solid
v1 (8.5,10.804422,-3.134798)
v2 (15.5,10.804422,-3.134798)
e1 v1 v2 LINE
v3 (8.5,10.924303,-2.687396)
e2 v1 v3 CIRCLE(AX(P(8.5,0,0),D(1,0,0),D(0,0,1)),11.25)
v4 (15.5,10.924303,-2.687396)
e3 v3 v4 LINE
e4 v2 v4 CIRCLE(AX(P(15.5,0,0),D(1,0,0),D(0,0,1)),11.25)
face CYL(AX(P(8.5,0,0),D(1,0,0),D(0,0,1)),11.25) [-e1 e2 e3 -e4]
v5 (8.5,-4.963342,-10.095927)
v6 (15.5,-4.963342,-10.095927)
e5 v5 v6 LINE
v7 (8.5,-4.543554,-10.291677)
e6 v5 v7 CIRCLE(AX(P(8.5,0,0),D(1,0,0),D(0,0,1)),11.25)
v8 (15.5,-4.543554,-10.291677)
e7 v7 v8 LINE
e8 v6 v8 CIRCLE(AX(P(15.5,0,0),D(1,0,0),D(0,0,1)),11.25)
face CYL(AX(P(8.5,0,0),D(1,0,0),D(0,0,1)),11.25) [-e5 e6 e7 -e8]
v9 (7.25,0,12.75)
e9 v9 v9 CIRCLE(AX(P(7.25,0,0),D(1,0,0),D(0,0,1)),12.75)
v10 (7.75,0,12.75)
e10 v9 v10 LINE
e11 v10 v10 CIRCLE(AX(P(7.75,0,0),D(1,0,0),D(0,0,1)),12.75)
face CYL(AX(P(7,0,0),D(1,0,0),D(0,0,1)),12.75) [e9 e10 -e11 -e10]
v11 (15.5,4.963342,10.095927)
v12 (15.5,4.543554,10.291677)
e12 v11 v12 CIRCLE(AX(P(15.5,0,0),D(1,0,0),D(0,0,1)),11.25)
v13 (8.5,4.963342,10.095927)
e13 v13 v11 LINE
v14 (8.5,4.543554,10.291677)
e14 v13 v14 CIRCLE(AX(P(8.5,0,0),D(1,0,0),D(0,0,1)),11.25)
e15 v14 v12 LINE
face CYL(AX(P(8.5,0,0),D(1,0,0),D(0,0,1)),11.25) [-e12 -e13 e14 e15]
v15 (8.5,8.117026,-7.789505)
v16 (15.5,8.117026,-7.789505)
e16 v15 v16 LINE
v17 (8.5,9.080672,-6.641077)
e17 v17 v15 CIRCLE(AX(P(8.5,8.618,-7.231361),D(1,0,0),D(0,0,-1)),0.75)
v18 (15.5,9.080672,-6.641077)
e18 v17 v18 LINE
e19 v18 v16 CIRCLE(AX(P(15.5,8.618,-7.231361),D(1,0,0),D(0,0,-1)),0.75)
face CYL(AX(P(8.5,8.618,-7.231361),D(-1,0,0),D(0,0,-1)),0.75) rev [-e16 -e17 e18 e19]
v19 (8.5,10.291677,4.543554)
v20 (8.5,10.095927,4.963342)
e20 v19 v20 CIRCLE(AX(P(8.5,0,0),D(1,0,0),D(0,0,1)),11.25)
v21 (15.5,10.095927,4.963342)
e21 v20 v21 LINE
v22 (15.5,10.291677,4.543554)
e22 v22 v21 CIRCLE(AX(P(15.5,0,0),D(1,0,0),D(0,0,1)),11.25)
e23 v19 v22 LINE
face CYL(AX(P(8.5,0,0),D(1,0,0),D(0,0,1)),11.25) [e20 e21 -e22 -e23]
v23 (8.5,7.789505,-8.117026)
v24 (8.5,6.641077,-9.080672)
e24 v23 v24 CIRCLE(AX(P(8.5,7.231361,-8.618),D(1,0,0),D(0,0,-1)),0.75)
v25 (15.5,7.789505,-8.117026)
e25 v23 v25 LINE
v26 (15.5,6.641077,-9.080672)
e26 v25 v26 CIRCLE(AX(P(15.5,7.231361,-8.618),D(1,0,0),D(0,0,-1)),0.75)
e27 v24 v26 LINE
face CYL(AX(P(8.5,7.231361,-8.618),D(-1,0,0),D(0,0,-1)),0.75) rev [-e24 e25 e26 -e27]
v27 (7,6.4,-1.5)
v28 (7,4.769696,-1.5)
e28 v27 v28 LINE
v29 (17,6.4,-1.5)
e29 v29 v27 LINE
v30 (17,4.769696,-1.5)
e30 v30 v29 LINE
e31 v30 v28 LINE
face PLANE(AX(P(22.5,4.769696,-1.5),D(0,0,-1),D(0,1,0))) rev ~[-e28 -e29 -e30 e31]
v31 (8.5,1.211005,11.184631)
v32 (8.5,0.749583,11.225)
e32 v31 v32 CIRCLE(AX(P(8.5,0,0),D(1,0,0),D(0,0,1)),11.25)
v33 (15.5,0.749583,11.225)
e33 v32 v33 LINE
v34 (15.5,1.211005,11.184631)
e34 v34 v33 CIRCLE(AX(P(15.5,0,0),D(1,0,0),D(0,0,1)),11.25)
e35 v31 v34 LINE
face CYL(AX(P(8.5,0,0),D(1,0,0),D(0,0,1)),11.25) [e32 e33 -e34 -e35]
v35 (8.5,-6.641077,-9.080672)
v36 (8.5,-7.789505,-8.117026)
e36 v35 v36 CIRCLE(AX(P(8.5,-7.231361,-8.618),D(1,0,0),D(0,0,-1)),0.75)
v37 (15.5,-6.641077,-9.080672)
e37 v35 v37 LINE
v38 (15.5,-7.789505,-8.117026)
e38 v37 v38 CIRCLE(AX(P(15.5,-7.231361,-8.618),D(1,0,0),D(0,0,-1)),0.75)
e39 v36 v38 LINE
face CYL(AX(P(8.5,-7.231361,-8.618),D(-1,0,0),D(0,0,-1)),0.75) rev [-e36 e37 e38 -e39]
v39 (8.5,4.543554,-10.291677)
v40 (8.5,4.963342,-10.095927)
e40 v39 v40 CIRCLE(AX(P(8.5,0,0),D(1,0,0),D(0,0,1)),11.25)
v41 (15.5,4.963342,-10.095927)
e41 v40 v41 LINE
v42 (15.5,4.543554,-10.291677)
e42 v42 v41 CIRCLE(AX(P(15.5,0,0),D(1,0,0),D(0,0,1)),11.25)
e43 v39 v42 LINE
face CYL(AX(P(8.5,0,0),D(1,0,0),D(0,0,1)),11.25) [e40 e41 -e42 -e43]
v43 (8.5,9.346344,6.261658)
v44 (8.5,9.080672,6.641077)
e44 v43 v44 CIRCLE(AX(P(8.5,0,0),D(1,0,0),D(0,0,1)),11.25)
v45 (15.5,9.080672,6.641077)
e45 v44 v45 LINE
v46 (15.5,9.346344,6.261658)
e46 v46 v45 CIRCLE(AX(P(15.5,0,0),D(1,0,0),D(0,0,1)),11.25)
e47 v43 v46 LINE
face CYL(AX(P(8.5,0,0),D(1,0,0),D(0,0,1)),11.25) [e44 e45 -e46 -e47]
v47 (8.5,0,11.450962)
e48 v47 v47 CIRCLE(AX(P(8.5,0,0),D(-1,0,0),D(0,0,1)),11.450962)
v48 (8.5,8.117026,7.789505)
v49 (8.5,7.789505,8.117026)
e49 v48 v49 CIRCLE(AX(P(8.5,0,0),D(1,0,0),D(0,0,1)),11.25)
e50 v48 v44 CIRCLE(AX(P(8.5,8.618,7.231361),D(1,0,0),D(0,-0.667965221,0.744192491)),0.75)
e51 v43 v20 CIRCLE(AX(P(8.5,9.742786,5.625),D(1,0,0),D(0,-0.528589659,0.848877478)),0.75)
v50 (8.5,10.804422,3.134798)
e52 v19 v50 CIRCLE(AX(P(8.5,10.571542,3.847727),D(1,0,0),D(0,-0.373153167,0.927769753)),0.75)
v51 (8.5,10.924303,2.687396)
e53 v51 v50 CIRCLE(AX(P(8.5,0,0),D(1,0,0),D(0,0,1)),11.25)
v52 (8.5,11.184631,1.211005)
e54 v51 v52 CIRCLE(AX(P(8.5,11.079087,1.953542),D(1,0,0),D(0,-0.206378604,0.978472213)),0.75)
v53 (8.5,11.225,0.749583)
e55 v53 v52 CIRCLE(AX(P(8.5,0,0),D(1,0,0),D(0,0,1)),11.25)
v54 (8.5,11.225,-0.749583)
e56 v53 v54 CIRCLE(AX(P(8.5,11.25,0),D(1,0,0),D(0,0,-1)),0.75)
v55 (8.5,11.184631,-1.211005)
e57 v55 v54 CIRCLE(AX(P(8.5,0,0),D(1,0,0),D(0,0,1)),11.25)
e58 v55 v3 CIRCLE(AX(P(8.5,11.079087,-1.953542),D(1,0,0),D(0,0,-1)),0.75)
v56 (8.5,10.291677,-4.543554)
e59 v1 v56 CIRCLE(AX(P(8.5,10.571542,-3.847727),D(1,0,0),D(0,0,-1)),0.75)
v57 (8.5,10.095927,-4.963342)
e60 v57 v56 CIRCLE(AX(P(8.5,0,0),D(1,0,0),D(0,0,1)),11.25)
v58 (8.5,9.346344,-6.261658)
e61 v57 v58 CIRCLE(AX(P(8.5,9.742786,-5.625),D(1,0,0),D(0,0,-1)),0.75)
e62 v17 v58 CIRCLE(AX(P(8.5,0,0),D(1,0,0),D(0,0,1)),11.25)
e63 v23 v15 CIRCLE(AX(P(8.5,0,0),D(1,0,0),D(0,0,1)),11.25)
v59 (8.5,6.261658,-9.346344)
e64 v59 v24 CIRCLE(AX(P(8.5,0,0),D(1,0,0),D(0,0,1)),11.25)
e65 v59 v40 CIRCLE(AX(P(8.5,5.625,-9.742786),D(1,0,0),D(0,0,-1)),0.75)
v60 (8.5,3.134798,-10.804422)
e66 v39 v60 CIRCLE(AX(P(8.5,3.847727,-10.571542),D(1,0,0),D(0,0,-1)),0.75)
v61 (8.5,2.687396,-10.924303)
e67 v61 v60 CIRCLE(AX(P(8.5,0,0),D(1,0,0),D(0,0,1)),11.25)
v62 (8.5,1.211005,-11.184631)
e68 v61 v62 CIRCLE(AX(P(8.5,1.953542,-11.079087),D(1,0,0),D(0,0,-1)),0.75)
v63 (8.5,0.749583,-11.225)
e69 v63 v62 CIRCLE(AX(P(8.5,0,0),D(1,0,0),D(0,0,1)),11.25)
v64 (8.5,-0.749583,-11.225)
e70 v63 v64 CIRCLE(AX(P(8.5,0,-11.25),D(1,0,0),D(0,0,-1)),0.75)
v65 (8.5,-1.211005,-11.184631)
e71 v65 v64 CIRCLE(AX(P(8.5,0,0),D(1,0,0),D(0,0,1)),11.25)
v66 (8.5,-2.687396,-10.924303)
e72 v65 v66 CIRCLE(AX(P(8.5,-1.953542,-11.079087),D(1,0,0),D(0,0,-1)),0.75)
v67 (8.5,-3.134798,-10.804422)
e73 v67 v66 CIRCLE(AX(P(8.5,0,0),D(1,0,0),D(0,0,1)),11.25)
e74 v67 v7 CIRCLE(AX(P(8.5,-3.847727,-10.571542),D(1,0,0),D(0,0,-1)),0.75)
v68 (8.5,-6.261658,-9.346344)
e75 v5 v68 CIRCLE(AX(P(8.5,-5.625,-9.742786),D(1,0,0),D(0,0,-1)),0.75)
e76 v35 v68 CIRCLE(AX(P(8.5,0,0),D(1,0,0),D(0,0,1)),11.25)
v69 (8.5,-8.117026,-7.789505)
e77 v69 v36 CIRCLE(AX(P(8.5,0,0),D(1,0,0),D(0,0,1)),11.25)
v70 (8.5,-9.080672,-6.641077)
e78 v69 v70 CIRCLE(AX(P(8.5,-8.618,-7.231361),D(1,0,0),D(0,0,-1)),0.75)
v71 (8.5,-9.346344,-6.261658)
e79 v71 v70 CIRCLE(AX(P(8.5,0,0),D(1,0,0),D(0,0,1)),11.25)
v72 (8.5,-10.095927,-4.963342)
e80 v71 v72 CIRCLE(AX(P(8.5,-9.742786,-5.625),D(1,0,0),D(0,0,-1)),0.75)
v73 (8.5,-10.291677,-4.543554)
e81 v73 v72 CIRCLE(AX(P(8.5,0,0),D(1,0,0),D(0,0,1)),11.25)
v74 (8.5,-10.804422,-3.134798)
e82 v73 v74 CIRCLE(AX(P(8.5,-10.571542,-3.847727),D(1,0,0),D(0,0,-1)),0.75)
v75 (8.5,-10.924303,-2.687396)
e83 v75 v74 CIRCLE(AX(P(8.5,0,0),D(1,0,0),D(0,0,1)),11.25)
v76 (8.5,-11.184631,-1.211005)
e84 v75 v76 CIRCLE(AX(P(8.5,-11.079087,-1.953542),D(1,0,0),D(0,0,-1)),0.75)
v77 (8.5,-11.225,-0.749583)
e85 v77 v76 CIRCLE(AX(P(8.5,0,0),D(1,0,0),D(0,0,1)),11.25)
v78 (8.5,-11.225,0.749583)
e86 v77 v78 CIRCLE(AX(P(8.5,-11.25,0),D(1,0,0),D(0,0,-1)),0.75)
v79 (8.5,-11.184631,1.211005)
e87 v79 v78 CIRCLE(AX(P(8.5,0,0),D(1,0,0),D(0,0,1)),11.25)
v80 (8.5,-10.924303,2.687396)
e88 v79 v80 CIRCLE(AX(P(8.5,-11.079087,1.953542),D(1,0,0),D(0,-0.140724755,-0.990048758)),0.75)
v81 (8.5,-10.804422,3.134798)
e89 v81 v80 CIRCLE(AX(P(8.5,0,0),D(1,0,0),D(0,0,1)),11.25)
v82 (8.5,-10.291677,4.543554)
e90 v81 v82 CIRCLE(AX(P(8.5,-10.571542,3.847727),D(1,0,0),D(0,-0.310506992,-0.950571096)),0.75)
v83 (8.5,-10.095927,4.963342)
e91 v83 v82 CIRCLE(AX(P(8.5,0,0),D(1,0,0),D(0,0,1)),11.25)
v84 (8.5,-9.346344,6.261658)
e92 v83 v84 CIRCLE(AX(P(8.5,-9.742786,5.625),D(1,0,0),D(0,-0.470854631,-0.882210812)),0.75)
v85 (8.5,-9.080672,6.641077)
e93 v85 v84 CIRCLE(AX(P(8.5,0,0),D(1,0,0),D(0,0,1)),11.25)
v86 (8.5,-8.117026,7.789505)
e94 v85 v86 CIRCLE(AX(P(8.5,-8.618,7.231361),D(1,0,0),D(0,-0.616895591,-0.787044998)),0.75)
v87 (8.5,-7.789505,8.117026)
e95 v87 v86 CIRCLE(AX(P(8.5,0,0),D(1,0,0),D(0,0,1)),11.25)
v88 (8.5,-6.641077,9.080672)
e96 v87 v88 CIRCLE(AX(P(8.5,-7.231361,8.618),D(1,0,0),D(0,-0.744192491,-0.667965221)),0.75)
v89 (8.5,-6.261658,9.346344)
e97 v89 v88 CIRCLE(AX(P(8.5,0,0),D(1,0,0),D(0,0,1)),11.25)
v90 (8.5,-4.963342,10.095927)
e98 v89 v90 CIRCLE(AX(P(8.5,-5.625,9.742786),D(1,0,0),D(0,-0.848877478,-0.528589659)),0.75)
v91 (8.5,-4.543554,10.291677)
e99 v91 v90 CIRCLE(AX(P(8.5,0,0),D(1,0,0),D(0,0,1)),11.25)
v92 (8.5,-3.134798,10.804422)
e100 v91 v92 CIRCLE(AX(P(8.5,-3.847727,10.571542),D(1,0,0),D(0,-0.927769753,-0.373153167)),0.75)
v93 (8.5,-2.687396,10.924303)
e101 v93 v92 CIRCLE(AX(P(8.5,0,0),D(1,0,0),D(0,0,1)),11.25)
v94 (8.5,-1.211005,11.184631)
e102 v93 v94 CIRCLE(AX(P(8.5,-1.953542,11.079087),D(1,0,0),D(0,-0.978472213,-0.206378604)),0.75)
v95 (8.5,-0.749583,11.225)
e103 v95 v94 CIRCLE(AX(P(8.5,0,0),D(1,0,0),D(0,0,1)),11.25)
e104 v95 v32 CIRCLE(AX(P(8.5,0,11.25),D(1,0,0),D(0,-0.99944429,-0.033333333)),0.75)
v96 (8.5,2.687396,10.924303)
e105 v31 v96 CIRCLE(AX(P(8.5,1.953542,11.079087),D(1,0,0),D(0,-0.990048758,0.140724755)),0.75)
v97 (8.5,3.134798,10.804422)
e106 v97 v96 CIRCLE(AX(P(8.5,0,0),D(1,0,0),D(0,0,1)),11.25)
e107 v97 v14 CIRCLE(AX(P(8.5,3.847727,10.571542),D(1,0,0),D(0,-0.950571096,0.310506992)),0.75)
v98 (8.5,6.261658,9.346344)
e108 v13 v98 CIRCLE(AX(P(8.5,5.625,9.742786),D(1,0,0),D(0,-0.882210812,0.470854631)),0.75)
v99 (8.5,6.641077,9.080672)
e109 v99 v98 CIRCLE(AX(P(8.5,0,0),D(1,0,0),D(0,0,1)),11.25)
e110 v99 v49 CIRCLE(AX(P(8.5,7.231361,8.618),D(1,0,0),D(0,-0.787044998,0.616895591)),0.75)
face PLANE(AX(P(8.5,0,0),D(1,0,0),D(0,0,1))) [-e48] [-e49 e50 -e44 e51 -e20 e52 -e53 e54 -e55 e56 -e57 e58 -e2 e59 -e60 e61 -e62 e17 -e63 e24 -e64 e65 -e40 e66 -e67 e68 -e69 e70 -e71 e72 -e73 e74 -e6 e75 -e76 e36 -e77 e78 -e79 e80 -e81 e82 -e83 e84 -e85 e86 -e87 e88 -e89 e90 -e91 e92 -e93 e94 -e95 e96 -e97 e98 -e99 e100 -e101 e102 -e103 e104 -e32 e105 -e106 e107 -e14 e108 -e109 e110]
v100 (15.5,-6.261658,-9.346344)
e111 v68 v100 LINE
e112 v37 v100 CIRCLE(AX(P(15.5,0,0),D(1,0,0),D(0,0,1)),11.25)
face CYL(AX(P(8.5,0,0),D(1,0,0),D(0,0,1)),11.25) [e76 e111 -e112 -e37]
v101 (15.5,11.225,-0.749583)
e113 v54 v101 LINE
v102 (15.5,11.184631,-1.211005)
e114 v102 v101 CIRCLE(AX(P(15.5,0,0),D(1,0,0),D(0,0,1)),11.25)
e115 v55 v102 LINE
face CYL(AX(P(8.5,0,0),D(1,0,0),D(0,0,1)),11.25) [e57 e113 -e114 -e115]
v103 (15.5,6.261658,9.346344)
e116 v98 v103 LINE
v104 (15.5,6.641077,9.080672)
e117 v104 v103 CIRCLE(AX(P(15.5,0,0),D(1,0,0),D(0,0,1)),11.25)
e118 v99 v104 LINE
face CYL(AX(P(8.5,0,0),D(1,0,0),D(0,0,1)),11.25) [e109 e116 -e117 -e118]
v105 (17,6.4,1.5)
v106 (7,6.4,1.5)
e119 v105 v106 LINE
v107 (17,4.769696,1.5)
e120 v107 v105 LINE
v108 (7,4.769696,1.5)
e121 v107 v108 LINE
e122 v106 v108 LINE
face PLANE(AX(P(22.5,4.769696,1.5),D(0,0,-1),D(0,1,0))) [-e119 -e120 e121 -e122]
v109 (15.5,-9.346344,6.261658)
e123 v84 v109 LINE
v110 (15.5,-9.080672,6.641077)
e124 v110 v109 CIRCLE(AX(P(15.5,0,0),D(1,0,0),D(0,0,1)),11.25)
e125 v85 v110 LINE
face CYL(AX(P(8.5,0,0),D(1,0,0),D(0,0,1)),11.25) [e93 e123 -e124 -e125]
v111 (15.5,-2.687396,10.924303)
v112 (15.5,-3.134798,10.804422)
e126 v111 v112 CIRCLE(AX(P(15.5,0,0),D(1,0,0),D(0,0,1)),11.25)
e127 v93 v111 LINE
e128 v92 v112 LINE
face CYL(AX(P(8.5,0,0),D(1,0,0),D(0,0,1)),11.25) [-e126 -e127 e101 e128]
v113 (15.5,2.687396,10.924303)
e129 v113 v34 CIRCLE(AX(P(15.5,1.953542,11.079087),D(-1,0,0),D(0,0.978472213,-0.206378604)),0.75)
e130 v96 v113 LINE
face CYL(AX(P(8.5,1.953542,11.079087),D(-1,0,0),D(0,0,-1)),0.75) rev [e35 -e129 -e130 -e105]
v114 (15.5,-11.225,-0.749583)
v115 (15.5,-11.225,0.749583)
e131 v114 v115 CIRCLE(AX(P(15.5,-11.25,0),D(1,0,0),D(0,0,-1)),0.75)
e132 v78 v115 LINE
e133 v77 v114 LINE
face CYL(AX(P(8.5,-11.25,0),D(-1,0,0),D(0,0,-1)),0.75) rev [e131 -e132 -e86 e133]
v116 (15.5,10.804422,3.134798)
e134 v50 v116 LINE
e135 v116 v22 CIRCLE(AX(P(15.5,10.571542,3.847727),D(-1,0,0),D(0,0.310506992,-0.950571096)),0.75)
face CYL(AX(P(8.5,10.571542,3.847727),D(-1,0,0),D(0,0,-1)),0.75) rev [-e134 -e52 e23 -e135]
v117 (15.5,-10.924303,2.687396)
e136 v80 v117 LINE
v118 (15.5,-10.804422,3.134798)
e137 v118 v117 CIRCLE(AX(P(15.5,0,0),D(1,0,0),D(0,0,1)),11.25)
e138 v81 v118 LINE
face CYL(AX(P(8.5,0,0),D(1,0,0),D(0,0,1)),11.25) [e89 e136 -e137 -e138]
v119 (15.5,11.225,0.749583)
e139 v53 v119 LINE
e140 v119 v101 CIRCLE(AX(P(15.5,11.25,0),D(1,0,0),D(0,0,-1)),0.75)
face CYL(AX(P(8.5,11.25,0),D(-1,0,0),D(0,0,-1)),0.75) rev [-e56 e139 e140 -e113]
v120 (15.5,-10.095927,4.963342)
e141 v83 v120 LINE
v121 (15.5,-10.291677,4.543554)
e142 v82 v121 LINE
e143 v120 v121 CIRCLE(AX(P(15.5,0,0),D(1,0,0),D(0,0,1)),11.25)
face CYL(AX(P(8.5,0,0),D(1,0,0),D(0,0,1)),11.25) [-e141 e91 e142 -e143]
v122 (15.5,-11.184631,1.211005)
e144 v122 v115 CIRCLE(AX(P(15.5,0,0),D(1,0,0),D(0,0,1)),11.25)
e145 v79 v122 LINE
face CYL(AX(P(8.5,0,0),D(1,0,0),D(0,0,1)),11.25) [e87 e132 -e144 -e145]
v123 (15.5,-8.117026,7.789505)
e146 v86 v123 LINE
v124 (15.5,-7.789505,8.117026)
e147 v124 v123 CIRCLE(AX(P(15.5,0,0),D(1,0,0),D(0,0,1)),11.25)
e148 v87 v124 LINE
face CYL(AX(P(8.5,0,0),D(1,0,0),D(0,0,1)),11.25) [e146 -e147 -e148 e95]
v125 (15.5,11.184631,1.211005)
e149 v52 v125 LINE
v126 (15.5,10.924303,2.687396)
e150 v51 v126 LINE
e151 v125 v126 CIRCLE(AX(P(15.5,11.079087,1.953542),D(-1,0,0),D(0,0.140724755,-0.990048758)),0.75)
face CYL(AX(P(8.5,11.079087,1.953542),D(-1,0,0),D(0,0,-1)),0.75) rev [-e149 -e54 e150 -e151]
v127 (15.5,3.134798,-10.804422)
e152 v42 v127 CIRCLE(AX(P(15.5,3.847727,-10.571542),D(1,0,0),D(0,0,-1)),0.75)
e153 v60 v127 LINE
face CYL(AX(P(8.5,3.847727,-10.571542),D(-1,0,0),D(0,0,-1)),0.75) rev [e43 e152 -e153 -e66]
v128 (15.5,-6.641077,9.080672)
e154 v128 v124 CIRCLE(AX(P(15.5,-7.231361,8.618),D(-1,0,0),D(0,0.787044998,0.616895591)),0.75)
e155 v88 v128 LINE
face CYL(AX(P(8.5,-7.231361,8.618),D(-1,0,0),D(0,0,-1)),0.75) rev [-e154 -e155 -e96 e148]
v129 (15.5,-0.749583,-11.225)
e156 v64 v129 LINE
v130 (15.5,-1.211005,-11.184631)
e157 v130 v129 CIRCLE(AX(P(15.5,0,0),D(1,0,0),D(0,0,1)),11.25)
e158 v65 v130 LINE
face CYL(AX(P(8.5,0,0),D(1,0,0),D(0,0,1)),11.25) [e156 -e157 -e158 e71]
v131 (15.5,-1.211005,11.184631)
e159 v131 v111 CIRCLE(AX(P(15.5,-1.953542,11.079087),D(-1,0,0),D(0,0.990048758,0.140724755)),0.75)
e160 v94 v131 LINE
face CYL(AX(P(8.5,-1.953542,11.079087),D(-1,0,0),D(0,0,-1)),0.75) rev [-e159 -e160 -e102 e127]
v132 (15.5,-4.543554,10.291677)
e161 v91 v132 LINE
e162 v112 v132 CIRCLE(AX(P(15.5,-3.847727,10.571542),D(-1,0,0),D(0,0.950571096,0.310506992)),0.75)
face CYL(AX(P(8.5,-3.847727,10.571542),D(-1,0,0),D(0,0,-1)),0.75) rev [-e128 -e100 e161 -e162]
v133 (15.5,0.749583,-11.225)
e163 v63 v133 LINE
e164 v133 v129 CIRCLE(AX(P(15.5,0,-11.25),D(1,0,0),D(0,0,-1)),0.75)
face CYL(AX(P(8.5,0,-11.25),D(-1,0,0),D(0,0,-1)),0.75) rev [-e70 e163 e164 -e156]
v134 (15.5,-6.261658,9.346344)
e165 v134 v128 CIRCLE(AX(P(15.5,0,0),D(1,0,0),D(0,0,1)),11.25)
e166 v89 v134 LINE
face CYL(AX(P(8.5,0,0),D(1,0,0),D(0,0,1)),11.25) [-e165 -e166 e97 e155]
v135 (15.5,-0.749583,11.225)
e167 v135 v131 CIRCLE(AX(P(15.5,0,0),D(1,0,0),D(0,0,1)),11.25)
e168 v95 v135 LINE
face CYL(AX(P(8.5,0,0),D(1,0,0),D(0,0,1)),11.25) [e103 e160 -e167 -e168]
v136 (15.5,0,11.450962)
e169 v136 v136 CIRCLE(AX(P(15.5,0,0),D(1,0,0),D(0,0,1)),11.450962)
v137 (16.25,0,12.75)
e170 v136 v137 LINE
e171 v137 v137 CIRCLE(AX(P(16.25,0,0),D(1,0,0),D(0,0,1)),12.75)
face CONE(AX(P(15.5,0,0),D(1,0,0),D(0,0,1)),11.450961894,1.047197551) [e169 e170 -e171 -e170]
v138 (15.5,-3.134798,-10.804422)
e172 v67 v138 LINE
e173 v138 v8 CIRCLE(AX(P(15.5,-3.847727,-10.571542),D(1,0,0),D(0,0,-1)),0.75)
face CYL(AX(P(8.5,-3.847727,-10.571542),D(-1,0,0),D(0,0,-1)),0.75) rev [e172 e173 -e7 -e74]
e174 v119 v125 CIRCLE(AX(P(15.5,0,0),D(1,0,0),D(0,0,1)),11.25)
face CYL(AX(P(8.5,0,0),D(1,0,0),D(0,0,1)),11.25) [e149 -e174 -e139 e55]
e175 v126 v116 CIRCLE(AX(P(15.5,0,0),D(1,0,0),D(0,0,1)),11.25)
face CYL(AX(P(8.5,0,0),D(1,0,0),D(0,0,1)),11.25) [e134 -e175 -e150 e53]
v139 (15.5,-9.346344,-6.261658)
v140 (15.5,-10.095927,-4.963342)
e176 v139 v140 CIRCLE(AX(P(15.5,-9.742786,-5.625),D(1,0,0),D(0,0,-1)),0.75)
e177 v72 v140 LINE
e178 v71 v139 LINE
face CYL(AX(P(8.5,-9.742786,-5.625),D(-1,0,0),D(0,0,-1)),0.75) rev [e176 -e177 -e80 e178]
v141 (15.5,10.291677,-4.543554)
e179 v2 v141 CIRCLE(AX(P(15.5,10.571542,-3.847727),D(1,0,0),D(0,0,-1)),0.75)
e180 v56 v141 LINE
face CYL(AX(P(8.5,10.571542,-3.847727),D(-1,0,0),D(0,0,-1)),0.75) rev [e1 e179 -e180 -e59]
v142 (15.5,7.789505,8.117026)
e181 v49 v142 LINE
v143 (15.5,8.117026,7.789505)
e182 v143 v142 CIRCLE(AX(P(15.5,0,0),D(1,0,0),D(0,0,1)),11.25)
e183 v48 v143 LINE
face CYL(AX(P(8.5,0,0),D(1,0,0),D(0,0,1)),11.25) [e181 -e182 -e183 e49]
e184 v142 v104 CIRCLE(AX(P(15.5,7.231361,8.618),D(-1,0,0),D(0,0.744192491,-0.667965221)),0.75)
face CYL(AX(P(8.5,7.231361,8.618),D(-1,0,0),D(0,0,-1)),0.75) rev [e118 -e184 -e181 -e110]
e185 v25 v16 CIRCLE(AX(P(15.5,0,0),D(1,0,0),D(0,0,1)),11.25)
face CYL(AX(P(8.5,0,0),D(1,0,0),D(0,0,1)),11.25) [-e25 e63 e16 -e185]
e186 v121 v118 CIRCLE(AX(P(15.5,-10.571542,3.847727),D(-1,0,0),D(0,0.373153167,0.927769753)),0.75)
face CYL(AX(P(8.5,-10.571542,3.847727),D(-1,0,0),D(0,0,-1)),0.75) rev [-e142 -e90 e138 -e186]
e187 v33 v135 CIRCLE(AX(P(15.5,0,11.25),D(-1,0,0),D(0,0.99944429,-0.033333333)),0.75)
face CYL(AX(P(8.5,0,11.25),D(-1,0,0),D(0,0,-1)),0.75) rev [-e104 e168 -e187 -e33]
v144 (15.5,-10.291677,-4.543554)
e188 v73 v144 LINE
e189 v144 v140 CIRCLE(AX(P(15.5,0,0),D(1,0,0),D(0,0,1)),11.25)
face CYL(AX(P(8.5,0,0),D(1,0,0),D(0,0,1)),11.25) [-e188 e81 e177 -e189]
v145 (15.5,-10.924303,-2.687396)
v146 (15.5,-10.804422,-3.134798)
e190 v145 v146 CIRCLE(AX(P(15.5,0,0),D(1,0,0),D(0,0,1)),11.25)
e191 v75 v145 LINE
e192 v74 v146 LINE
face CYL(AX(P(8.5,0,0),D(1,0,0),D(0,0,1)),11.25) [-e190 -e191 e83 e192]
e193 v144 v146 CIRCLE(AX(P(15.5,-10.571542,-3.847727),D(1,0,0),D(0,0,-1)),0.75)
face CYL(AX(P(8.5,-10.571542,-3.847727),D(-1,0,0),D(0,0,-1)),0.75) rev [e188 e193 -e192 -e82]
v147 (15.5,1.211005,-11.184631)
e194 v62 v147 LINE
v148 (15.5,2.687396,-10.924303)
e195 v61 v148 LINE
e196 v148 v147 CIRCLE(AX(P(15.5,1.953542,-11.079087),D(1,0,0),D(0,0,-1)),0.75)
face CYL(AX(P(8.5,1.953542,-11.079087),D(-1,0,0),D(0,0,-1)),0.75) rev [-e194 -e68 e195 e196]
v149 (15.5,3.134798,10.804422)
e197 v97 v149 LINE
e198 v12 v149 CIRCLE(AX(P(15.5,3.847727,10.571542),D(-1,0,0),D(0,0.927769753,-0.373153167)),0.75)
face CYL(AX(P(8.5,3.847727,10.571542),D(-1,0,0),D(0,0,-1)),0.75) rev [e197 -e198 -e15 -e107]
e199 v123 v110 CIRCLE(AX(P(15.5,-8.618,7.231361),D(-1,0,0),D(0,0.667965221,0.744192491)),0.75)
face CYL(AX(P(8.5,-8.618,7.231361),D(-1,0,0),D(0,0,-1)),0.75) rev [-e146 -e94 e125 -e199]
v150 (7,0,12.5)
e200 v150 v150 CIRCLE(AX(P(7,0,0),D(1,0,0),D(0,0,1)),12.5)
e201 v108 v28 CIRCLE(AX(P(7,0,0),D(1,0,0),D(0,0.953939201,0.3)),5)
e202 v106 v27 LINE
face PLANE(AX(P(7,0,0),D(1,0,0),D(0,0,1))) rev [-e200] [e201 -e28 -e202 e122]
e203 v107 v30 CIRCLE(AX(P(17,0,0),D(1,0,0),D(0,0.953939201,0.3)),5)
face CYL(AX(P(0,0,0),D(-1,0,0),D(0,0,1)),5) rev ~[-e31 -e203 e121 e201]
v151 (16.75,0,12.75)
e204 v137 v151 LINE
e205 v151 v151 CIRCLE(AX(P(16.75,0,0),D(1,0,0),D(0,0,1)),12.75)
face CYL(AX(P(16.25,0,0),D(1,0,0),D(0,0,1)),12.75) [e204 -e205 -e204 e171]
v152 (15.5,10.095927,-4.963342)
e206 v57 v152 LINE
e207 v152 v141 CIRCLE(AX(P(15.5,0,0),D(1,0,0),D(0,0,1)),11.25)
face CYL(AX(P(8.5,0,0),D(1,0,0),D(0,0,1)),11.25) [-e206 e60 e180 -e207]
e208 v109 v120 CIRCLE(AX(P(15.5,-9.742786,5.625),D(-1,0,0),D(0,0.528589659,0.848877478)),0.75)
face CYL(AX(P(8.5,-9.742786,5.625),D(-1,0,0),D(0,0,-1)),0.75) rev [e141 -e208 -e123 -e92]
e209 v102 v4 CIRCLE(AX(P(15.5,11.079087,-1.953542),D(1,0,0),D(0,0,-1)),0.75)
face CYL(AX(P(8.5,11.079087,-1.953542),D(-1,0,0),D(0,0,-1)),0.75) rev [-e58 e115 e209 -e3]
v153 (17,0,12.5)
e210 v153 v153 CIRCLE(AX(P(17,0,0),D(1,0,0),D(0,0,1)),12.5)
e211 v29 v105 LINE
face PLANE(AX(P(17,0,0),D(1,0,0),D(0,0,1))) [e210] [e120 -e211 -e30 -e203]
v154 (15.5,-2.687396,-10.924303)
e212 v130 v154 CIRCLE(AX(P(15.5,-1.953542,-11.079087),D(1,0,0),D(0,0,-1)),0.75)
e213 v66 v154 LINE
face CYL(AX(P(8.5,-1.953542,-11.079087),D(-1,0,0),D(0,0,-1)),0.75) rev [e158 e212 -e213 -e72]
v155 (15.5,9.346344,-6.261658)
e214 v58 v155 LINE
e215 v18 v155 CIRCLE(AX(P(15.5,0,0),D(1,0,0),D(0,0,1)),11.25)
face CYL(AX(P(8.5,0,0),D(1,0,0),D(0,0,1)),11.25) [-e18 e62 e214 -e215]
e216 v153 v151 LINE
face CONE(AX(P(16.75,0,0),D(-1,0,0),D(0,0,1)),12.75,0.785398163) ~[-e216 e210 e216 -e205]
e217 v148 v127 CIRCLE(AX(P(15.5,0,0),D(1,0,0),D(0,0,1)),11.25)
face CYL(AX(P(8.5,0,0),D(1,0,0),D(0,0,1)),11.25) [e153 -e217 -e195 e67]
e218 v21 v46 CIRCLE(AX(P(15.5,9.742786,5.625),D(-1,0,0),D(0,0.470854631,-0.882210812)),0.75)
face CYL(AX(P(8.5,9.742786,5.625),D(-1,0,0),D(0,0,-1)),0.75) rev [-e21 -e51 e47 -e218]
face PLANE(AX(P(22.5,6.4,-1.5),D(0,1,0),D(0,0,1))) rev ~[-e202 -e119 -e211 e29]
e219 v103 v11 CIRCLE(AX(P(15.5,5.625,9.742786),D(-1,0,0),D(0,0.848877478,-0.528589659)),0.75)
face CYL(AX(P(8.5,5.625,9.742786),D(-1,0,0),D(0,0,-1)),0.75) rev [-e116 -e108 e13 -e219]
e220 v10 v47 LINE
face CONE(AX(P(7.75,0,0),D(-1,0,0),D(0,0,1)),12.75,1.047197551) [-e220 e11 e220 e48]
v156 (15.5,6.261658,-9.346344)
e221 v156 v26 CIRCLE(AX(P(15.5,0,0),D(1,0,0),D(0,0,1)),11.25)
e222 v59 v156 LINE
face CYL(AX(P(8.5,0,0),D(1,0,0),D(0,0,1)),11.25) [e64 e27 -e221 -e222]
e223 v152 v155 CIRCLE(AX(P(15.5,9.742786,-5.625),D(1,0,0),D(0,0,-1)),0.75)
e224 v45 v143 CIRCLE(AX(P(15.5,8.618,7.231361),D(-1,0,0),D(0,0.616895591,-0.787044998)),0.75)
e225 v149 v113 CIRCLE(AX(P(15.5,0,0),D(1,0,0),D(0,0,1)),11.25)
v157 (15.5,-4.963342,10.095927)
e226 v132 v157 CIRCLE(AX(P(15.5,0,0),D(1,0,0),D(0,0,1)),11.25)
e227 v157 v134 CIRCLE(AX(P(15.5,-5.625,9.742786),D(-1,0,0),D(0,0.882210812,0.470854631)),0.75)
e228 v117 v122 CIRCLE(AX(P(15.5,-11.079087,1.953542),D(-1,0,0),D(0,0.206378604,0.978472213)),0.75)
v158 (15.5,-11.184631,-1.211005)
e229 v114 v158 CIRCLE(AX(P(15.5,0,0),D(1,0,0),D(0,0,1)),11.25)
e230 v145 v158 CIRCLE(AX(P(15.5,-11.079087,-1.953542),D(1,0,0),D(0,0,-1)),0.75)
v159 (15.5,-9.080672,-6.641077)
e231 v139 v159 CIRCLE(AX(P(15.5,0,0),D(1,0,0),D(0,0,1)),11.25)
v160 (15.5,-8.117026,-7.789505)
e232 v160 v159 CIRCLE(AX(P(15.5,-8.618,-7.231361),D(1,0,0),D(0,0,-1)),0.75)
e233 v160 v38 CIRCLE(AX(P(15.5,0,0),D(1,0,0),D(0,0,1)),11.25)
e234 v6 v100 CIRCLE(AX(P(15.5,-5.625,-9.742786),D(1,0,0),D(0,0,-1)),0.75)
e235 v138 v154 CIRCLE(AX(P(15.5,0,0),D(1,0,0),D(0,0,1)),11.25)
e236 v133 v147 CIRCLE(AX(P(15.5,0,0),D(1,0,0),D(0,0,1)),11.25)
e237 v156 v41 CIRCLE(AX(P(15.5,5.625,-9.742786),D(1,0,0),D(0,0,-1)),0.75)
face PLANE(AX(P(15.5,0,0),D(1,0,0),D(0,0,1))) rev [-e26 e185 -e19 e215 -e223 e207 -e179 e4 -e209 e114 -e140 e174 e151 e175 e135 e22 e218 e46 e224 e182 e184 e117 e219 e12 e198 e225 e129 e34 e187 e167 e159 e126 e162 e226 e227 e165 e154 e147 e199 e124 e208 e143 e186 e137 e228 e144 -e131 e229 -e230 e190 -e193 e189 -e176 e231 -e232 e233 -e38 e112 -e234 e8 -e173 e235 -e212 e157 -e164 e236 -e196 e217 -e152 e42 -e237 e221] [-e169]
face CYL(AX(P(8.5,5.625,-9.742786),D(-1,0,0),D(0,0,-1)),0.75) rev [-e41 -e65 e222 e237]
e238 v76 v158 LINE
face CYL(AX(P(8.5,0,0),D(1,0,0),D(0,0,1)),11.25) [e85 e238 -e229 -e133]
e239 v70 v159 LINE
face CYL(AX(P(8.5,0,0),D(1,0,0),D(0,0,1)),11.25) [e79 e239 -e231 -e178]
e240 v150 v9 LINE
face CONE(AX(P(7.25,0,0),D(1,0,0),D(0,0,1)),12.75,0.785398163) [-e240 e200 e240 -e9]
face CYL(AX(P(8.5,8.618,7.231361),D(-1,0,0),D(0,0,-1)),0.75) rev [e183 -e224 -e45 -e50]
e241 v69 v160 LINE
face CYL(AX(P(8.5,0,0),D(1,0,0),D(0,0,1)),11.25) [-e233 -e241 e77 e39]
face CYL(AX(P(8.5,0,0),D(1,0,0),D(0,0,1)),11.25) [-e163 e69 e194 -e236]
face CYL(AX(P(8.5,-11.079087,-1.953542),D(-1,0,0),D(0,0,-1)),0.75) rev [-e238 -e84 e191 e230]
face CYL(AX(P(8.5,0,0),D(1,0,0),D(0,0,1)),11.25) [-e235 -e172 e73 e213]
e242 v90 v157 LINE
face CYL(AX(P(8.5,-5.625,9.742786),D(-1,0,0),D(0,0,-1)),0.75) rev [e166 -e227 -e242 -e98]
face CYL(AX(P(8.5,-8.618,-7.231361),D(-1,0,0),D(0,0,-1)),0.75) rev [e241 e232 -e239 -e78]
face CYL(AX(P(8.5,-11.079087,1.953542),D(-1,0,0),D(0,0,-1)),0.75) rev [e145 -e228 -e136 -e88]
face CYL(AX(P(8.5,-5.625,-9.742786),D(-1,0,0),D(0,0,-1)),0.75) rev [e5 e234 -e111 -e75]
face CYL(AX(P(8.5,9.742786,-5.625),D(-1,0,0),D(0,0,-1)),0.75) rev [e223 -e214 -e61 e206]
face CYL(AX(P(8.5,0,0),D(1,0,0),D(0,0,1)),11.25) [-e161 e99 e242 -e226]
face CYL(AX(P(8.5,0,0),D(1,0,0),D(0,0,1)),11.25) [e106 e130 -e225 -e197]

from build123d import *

# Parameters (mm, degrees)
SCHIZZO5_R                    = 0.75
TAGLIO_ESTRUSIONE1_DEPTH      = 7
TAGLIO_ESTRUSIONE2_REACH      = 26.782
TAGLIO_ESTRUSIONE2_END_RADIUS = 8
SCHIZZO6_R                    = 1.5
TAGLIO_ESTRUSIONE3_REACH      = 26.782
TAGLIO_ESTRUSIONE3_END_RADIUS = 8
SCHIZZO7_R                    = 1.5
SMUSSO1_SIZE                  = 0.5
SMUSSO2_SIZE                  = 0.25
SCHIZZO8_R                    = 5
TAGLIO_ESTRUSIONE4_DEPTH      = 25.781545622
TAGLIO_ESTRUSIONE5_START      = -7
SCHIZZO9_R                    = 8
TAGLIO_ESTRUSIONE5_DEPTH      = 7
TAGLIO_ESTRUSIONE6_DEPTH      = 30.654470544
TAGLIO_ESTRUSIONE6_DEPTH_BACK = 7
SCHIZZO10_W                   = 3
SCHIZZO10_H                   = 1.630303993


with BuildPart() as part:
    # Schizzo4 → Rivoluzione1 (revolve)
    with BuildSketch(Plane.XY, mode=Mode.PRIVATE) as rivoluzione1_sk:
        Polygon((0, 2.5), (0, 8), (7, 8), (7, 12.75), (7.75, 12.75), (8.5, 11.450961894), (8.5, 11.25), (15.5, 11.25), (15.5, 11.450961894), (16.25, 12.75), (17, 12.75), (17, 2.5), align=None)
    revolve(rivoluzione1_sk.sketch.rotate(Axis((0, 0, 0), (1, 0, 0)), 90), axis=Axis((0, 0, 0), (1, 0, 0)))

    # Schizzo5 → Taglio-Estrusione1 (cut)
    with BuildSketch(Plane(origin=(8.5, 0, 0), x_dir=(0, 0, -1), z_dir=(1, 0, 0))):
        with Locations((0, 11.25)):
            Circle(SCHIZZO5_R)
        with Locations((1.953541999, 11.079087221)):
            Circle(SCHIZZO5_R)
        with Locations((3.847726612, 10.571541984)):
            Circle(SCHIZZO5_R)
        with Locations((5.625, 9.742785793)):
            Circle(SCHIZZO5_R)
        with Locations((7.231360609, 8.617999985)):
            Circle(SCHIZZO5_R)
        with Locations((8.617999985, 7.231360609)):
            Circle(SCHIZZO5_R)
        with Locations((9.742785793, 5.625)):
            Circle(SCHIZZO5_R)
        with Locations((10.571541984, 3.847726612)):
            Circle(SCHIZZO5_R)
        with Locations((11.079087221, 1.953541999)):
            Circle(SCHIZZO5_R)
        with Locations((11.25, 0)):
            Circle(SCHIZZO5_R)
        with Locations((11.079087221, -1.953541999)):
            Circle(SCHIZZO5_R)
        with Locations((10.571541984, -3.847726612)):
            Circle(SCHIZZO5_R)
        with Locations((9.742785793, -5.625)):
            Circle(SCHIZZO5_R)
        with Locations((8.617999985, -7.231360609)):
            Circle(SCHIZZO5_R)
        with Locations((7.231360609, -8.617999985)):
            Circle(SCHIZZO5_R)
        with Locations((5.625, -9.742785793)):
            Circle(SCHIZZO5_R)
        with Locations((3.847726612, -10.571541984)):
            Circle(SCHIZZO5_R)
        with Locations((1.953541999, -11.079087221)):
            Circle(SCHIZZO5_R)
        with Locations((0, -11.25)):
            Circle(SCHIZZO5_R)
        with Locations((-1.953541999, -11.079087221)):
            Circle(SCHIZZO5_R)
        with Locations((-3.847726612, -10.571541984)):
            Circle(SCHIZZO5_R)
        with Locations((-5.625, -9.742785793)):
            Circle(SCHIZZO5_R)
        with Locations((-7.231360609, -8.617999985)):
            Circle(SCHIZZO5_R)
        with Locations((-8.617999985, -7.231360609)):
            Circle(SCHIZZO5_R)
        with Locations((-9.742785793, -5.625)):
            Circle(SCHIZZO5_R)
        with Locations((-10.571541984, -3.847726612)):
            Circle(SCHIZZO5_R)
        with Locations((-11.079087221, -1.953541999)):
            Circle(SCHIZZO5_R)
        with Locations((-11.25, 0)):
            Circle(SCHIZZO5_R)
        with Locations((-11.079087221, 1.953541999)):
            Circle(SCHIZZO5_R)
        with Locations((-10.571541984, 3.847726612)):
            Circle(SCHIZZO5_R)
        with Locations((-9.742785793, 5.625)):
            Circle(SCHIZZO5_R)
        with Locations((-8.617999985, 7.231360609)):
            Circle(SCHIZZO5_R)
        with Locations((-7.231360609, 8.617999985)):
            Circle(SCHIZZO5_R)
        with Locations((-5.625, 9.742785793)):
            Circle(SCHIZZO5_R)
        with Locations((-3.847726612, 10.571541984)):
            Circle(SCHIZZO5_R)
        with Locations((-1.953541999, 11.079087221)):
            Circle(SCHIZZO5_R)
    extrude(amount=TAGLIO_ESTRUSIONE1_DEPTH, mode=Mode.SUBTRACT)

    # Taglio-Estrusione2: up to this cylinder (the profile starts inside it)
    taglio_estrusione2_end = Plane(origin=(3.5, 0, 0), z_dir=(-1, 0, 0)) * Cylinder(TAGLIO_ESTRUSIONE2_END_RADIUS, 70.564, mode=Mode.PRIVATE)
    # Schizzo6 → Taglio-Estrusione2 (cut, up to the surface)
    with BuildSketch(Plane.XY, mode=Mode.PRIVATE) as taglio_estrusione2_sk1:
        with Locations(Location((3.5, 0, 0), (0, 0, 180))):
            Circle(SCHIZZO6_R)
    taglio_estrusione2_tool1 = extrude(taglio_estrusione2_sk1.sketch, amount=TAGLIO_ESTRUSIONE2_REACH, mode=Mode.PRIVATE) & taglio_estrusione2_end
    add(taglio_estrusione2_tool1.solids().sort_by_distance((3.5, 0, 0))[0], mode=Mode.SUBTRACT)

    # Taglio-Estrusione3: up to this cylinder (the profile starts inside it)
    taglio_estrusione3_end = Plane(origin=(3.5, 0, 0), z_dir=(-1, 0, 0)) * Cylinder(TAGLIO_ESTRUSIONE3_END_RADIUS, 70.564, mode=Mode.PRIVATE)
    # Schizzo7 → Taglio-Estrusione3 (cut, up to the surface)
    with BuildSketch(Plane(origin=(0, 0, 0), x_dir=(1, 0, 0), z_dir=(0, 1, 0)), mode=Mode.PRIVATE) as taglio_estrusione3_sk1:
        with Locations(Location((3.5, 0, 0), (0, 0, 90))):
            Circle(SCHIZZO7_R)
    taglio_estrusione3_tool1 = extrude(taglio_estrusione3_sk1.sketch, amount=TAGLIO_ESTRUSIONE3_REACH, mode=Mode.PRIVATE) & taglio_estrusione3_end
    add(taglio_estrusione3_tool1.solids().sort_by_distance((3.5, 0, 0))[0], mode=Mode.SUBTRACT)

    # Smusso1
    smusso1_edges = [part.edges().sort_by_distance(p)[0] for p in [
        (0, 0, -8),
        (0, 0, -2.5),
    ]]
    chamfer(smusso1_edges, length=SMUSSO1_SIZE)

    # Smusso2
    smusso2_edges = [part.edges().sort_by_distance(p)[0] for p in [
        (7, 0, -12.75),
        (17, 0, -12.75),
    ]]
    chamfer(smusso2_edges, length=SMUSSO2_SIZE)

    # Schizzo8 → Taglio-Estrusione4 (cut, through all)
    with BuildSketch(Plane.ZY):
        Circle(SCHIZZO8_R)
    extrude(amount=-TAGLIO_ESTRUSIONE4_DEPTH, mode=Mode.SUBTRACT)

    # Schizzo9 → Taglio-Estrusione5 (cut)
    with BuildSketch(Plane.ZY.offset(TAGLIO_ESTRUSIONE5_START)):
        Circle(SCHIZZO9_R)
    extrude(amount=TAGLIO_ESTRUSIONE5_DEPTH, mode=Mode.SUBTRACT)

    # Schizzo10 → Taglio-Estrusione6 (cut, two sides: drawn at the far end of the back side and taken through both)
    with BuildSketch(Plane(origin=(15.5, 3.134798291, -10.804422228), x_dir=(0, 0, 1), z_dir=(-1, 0, 0)).offset(-TAGLIO_ESTRUSIONE6_DEPTH_BACK)):
        with Locations((10.804422228, 2.450049713)):
            Rectangle(SCHIZZO10_W, SCHIZZO10_H)
    extrude(amount=TAGLIO_ESTRUSIONE6_DEPTH + TAGLIO_ESTRUSIONE6_DEPTH_BACK, mode=Mode.SUBTRACT)


solid = part.part
